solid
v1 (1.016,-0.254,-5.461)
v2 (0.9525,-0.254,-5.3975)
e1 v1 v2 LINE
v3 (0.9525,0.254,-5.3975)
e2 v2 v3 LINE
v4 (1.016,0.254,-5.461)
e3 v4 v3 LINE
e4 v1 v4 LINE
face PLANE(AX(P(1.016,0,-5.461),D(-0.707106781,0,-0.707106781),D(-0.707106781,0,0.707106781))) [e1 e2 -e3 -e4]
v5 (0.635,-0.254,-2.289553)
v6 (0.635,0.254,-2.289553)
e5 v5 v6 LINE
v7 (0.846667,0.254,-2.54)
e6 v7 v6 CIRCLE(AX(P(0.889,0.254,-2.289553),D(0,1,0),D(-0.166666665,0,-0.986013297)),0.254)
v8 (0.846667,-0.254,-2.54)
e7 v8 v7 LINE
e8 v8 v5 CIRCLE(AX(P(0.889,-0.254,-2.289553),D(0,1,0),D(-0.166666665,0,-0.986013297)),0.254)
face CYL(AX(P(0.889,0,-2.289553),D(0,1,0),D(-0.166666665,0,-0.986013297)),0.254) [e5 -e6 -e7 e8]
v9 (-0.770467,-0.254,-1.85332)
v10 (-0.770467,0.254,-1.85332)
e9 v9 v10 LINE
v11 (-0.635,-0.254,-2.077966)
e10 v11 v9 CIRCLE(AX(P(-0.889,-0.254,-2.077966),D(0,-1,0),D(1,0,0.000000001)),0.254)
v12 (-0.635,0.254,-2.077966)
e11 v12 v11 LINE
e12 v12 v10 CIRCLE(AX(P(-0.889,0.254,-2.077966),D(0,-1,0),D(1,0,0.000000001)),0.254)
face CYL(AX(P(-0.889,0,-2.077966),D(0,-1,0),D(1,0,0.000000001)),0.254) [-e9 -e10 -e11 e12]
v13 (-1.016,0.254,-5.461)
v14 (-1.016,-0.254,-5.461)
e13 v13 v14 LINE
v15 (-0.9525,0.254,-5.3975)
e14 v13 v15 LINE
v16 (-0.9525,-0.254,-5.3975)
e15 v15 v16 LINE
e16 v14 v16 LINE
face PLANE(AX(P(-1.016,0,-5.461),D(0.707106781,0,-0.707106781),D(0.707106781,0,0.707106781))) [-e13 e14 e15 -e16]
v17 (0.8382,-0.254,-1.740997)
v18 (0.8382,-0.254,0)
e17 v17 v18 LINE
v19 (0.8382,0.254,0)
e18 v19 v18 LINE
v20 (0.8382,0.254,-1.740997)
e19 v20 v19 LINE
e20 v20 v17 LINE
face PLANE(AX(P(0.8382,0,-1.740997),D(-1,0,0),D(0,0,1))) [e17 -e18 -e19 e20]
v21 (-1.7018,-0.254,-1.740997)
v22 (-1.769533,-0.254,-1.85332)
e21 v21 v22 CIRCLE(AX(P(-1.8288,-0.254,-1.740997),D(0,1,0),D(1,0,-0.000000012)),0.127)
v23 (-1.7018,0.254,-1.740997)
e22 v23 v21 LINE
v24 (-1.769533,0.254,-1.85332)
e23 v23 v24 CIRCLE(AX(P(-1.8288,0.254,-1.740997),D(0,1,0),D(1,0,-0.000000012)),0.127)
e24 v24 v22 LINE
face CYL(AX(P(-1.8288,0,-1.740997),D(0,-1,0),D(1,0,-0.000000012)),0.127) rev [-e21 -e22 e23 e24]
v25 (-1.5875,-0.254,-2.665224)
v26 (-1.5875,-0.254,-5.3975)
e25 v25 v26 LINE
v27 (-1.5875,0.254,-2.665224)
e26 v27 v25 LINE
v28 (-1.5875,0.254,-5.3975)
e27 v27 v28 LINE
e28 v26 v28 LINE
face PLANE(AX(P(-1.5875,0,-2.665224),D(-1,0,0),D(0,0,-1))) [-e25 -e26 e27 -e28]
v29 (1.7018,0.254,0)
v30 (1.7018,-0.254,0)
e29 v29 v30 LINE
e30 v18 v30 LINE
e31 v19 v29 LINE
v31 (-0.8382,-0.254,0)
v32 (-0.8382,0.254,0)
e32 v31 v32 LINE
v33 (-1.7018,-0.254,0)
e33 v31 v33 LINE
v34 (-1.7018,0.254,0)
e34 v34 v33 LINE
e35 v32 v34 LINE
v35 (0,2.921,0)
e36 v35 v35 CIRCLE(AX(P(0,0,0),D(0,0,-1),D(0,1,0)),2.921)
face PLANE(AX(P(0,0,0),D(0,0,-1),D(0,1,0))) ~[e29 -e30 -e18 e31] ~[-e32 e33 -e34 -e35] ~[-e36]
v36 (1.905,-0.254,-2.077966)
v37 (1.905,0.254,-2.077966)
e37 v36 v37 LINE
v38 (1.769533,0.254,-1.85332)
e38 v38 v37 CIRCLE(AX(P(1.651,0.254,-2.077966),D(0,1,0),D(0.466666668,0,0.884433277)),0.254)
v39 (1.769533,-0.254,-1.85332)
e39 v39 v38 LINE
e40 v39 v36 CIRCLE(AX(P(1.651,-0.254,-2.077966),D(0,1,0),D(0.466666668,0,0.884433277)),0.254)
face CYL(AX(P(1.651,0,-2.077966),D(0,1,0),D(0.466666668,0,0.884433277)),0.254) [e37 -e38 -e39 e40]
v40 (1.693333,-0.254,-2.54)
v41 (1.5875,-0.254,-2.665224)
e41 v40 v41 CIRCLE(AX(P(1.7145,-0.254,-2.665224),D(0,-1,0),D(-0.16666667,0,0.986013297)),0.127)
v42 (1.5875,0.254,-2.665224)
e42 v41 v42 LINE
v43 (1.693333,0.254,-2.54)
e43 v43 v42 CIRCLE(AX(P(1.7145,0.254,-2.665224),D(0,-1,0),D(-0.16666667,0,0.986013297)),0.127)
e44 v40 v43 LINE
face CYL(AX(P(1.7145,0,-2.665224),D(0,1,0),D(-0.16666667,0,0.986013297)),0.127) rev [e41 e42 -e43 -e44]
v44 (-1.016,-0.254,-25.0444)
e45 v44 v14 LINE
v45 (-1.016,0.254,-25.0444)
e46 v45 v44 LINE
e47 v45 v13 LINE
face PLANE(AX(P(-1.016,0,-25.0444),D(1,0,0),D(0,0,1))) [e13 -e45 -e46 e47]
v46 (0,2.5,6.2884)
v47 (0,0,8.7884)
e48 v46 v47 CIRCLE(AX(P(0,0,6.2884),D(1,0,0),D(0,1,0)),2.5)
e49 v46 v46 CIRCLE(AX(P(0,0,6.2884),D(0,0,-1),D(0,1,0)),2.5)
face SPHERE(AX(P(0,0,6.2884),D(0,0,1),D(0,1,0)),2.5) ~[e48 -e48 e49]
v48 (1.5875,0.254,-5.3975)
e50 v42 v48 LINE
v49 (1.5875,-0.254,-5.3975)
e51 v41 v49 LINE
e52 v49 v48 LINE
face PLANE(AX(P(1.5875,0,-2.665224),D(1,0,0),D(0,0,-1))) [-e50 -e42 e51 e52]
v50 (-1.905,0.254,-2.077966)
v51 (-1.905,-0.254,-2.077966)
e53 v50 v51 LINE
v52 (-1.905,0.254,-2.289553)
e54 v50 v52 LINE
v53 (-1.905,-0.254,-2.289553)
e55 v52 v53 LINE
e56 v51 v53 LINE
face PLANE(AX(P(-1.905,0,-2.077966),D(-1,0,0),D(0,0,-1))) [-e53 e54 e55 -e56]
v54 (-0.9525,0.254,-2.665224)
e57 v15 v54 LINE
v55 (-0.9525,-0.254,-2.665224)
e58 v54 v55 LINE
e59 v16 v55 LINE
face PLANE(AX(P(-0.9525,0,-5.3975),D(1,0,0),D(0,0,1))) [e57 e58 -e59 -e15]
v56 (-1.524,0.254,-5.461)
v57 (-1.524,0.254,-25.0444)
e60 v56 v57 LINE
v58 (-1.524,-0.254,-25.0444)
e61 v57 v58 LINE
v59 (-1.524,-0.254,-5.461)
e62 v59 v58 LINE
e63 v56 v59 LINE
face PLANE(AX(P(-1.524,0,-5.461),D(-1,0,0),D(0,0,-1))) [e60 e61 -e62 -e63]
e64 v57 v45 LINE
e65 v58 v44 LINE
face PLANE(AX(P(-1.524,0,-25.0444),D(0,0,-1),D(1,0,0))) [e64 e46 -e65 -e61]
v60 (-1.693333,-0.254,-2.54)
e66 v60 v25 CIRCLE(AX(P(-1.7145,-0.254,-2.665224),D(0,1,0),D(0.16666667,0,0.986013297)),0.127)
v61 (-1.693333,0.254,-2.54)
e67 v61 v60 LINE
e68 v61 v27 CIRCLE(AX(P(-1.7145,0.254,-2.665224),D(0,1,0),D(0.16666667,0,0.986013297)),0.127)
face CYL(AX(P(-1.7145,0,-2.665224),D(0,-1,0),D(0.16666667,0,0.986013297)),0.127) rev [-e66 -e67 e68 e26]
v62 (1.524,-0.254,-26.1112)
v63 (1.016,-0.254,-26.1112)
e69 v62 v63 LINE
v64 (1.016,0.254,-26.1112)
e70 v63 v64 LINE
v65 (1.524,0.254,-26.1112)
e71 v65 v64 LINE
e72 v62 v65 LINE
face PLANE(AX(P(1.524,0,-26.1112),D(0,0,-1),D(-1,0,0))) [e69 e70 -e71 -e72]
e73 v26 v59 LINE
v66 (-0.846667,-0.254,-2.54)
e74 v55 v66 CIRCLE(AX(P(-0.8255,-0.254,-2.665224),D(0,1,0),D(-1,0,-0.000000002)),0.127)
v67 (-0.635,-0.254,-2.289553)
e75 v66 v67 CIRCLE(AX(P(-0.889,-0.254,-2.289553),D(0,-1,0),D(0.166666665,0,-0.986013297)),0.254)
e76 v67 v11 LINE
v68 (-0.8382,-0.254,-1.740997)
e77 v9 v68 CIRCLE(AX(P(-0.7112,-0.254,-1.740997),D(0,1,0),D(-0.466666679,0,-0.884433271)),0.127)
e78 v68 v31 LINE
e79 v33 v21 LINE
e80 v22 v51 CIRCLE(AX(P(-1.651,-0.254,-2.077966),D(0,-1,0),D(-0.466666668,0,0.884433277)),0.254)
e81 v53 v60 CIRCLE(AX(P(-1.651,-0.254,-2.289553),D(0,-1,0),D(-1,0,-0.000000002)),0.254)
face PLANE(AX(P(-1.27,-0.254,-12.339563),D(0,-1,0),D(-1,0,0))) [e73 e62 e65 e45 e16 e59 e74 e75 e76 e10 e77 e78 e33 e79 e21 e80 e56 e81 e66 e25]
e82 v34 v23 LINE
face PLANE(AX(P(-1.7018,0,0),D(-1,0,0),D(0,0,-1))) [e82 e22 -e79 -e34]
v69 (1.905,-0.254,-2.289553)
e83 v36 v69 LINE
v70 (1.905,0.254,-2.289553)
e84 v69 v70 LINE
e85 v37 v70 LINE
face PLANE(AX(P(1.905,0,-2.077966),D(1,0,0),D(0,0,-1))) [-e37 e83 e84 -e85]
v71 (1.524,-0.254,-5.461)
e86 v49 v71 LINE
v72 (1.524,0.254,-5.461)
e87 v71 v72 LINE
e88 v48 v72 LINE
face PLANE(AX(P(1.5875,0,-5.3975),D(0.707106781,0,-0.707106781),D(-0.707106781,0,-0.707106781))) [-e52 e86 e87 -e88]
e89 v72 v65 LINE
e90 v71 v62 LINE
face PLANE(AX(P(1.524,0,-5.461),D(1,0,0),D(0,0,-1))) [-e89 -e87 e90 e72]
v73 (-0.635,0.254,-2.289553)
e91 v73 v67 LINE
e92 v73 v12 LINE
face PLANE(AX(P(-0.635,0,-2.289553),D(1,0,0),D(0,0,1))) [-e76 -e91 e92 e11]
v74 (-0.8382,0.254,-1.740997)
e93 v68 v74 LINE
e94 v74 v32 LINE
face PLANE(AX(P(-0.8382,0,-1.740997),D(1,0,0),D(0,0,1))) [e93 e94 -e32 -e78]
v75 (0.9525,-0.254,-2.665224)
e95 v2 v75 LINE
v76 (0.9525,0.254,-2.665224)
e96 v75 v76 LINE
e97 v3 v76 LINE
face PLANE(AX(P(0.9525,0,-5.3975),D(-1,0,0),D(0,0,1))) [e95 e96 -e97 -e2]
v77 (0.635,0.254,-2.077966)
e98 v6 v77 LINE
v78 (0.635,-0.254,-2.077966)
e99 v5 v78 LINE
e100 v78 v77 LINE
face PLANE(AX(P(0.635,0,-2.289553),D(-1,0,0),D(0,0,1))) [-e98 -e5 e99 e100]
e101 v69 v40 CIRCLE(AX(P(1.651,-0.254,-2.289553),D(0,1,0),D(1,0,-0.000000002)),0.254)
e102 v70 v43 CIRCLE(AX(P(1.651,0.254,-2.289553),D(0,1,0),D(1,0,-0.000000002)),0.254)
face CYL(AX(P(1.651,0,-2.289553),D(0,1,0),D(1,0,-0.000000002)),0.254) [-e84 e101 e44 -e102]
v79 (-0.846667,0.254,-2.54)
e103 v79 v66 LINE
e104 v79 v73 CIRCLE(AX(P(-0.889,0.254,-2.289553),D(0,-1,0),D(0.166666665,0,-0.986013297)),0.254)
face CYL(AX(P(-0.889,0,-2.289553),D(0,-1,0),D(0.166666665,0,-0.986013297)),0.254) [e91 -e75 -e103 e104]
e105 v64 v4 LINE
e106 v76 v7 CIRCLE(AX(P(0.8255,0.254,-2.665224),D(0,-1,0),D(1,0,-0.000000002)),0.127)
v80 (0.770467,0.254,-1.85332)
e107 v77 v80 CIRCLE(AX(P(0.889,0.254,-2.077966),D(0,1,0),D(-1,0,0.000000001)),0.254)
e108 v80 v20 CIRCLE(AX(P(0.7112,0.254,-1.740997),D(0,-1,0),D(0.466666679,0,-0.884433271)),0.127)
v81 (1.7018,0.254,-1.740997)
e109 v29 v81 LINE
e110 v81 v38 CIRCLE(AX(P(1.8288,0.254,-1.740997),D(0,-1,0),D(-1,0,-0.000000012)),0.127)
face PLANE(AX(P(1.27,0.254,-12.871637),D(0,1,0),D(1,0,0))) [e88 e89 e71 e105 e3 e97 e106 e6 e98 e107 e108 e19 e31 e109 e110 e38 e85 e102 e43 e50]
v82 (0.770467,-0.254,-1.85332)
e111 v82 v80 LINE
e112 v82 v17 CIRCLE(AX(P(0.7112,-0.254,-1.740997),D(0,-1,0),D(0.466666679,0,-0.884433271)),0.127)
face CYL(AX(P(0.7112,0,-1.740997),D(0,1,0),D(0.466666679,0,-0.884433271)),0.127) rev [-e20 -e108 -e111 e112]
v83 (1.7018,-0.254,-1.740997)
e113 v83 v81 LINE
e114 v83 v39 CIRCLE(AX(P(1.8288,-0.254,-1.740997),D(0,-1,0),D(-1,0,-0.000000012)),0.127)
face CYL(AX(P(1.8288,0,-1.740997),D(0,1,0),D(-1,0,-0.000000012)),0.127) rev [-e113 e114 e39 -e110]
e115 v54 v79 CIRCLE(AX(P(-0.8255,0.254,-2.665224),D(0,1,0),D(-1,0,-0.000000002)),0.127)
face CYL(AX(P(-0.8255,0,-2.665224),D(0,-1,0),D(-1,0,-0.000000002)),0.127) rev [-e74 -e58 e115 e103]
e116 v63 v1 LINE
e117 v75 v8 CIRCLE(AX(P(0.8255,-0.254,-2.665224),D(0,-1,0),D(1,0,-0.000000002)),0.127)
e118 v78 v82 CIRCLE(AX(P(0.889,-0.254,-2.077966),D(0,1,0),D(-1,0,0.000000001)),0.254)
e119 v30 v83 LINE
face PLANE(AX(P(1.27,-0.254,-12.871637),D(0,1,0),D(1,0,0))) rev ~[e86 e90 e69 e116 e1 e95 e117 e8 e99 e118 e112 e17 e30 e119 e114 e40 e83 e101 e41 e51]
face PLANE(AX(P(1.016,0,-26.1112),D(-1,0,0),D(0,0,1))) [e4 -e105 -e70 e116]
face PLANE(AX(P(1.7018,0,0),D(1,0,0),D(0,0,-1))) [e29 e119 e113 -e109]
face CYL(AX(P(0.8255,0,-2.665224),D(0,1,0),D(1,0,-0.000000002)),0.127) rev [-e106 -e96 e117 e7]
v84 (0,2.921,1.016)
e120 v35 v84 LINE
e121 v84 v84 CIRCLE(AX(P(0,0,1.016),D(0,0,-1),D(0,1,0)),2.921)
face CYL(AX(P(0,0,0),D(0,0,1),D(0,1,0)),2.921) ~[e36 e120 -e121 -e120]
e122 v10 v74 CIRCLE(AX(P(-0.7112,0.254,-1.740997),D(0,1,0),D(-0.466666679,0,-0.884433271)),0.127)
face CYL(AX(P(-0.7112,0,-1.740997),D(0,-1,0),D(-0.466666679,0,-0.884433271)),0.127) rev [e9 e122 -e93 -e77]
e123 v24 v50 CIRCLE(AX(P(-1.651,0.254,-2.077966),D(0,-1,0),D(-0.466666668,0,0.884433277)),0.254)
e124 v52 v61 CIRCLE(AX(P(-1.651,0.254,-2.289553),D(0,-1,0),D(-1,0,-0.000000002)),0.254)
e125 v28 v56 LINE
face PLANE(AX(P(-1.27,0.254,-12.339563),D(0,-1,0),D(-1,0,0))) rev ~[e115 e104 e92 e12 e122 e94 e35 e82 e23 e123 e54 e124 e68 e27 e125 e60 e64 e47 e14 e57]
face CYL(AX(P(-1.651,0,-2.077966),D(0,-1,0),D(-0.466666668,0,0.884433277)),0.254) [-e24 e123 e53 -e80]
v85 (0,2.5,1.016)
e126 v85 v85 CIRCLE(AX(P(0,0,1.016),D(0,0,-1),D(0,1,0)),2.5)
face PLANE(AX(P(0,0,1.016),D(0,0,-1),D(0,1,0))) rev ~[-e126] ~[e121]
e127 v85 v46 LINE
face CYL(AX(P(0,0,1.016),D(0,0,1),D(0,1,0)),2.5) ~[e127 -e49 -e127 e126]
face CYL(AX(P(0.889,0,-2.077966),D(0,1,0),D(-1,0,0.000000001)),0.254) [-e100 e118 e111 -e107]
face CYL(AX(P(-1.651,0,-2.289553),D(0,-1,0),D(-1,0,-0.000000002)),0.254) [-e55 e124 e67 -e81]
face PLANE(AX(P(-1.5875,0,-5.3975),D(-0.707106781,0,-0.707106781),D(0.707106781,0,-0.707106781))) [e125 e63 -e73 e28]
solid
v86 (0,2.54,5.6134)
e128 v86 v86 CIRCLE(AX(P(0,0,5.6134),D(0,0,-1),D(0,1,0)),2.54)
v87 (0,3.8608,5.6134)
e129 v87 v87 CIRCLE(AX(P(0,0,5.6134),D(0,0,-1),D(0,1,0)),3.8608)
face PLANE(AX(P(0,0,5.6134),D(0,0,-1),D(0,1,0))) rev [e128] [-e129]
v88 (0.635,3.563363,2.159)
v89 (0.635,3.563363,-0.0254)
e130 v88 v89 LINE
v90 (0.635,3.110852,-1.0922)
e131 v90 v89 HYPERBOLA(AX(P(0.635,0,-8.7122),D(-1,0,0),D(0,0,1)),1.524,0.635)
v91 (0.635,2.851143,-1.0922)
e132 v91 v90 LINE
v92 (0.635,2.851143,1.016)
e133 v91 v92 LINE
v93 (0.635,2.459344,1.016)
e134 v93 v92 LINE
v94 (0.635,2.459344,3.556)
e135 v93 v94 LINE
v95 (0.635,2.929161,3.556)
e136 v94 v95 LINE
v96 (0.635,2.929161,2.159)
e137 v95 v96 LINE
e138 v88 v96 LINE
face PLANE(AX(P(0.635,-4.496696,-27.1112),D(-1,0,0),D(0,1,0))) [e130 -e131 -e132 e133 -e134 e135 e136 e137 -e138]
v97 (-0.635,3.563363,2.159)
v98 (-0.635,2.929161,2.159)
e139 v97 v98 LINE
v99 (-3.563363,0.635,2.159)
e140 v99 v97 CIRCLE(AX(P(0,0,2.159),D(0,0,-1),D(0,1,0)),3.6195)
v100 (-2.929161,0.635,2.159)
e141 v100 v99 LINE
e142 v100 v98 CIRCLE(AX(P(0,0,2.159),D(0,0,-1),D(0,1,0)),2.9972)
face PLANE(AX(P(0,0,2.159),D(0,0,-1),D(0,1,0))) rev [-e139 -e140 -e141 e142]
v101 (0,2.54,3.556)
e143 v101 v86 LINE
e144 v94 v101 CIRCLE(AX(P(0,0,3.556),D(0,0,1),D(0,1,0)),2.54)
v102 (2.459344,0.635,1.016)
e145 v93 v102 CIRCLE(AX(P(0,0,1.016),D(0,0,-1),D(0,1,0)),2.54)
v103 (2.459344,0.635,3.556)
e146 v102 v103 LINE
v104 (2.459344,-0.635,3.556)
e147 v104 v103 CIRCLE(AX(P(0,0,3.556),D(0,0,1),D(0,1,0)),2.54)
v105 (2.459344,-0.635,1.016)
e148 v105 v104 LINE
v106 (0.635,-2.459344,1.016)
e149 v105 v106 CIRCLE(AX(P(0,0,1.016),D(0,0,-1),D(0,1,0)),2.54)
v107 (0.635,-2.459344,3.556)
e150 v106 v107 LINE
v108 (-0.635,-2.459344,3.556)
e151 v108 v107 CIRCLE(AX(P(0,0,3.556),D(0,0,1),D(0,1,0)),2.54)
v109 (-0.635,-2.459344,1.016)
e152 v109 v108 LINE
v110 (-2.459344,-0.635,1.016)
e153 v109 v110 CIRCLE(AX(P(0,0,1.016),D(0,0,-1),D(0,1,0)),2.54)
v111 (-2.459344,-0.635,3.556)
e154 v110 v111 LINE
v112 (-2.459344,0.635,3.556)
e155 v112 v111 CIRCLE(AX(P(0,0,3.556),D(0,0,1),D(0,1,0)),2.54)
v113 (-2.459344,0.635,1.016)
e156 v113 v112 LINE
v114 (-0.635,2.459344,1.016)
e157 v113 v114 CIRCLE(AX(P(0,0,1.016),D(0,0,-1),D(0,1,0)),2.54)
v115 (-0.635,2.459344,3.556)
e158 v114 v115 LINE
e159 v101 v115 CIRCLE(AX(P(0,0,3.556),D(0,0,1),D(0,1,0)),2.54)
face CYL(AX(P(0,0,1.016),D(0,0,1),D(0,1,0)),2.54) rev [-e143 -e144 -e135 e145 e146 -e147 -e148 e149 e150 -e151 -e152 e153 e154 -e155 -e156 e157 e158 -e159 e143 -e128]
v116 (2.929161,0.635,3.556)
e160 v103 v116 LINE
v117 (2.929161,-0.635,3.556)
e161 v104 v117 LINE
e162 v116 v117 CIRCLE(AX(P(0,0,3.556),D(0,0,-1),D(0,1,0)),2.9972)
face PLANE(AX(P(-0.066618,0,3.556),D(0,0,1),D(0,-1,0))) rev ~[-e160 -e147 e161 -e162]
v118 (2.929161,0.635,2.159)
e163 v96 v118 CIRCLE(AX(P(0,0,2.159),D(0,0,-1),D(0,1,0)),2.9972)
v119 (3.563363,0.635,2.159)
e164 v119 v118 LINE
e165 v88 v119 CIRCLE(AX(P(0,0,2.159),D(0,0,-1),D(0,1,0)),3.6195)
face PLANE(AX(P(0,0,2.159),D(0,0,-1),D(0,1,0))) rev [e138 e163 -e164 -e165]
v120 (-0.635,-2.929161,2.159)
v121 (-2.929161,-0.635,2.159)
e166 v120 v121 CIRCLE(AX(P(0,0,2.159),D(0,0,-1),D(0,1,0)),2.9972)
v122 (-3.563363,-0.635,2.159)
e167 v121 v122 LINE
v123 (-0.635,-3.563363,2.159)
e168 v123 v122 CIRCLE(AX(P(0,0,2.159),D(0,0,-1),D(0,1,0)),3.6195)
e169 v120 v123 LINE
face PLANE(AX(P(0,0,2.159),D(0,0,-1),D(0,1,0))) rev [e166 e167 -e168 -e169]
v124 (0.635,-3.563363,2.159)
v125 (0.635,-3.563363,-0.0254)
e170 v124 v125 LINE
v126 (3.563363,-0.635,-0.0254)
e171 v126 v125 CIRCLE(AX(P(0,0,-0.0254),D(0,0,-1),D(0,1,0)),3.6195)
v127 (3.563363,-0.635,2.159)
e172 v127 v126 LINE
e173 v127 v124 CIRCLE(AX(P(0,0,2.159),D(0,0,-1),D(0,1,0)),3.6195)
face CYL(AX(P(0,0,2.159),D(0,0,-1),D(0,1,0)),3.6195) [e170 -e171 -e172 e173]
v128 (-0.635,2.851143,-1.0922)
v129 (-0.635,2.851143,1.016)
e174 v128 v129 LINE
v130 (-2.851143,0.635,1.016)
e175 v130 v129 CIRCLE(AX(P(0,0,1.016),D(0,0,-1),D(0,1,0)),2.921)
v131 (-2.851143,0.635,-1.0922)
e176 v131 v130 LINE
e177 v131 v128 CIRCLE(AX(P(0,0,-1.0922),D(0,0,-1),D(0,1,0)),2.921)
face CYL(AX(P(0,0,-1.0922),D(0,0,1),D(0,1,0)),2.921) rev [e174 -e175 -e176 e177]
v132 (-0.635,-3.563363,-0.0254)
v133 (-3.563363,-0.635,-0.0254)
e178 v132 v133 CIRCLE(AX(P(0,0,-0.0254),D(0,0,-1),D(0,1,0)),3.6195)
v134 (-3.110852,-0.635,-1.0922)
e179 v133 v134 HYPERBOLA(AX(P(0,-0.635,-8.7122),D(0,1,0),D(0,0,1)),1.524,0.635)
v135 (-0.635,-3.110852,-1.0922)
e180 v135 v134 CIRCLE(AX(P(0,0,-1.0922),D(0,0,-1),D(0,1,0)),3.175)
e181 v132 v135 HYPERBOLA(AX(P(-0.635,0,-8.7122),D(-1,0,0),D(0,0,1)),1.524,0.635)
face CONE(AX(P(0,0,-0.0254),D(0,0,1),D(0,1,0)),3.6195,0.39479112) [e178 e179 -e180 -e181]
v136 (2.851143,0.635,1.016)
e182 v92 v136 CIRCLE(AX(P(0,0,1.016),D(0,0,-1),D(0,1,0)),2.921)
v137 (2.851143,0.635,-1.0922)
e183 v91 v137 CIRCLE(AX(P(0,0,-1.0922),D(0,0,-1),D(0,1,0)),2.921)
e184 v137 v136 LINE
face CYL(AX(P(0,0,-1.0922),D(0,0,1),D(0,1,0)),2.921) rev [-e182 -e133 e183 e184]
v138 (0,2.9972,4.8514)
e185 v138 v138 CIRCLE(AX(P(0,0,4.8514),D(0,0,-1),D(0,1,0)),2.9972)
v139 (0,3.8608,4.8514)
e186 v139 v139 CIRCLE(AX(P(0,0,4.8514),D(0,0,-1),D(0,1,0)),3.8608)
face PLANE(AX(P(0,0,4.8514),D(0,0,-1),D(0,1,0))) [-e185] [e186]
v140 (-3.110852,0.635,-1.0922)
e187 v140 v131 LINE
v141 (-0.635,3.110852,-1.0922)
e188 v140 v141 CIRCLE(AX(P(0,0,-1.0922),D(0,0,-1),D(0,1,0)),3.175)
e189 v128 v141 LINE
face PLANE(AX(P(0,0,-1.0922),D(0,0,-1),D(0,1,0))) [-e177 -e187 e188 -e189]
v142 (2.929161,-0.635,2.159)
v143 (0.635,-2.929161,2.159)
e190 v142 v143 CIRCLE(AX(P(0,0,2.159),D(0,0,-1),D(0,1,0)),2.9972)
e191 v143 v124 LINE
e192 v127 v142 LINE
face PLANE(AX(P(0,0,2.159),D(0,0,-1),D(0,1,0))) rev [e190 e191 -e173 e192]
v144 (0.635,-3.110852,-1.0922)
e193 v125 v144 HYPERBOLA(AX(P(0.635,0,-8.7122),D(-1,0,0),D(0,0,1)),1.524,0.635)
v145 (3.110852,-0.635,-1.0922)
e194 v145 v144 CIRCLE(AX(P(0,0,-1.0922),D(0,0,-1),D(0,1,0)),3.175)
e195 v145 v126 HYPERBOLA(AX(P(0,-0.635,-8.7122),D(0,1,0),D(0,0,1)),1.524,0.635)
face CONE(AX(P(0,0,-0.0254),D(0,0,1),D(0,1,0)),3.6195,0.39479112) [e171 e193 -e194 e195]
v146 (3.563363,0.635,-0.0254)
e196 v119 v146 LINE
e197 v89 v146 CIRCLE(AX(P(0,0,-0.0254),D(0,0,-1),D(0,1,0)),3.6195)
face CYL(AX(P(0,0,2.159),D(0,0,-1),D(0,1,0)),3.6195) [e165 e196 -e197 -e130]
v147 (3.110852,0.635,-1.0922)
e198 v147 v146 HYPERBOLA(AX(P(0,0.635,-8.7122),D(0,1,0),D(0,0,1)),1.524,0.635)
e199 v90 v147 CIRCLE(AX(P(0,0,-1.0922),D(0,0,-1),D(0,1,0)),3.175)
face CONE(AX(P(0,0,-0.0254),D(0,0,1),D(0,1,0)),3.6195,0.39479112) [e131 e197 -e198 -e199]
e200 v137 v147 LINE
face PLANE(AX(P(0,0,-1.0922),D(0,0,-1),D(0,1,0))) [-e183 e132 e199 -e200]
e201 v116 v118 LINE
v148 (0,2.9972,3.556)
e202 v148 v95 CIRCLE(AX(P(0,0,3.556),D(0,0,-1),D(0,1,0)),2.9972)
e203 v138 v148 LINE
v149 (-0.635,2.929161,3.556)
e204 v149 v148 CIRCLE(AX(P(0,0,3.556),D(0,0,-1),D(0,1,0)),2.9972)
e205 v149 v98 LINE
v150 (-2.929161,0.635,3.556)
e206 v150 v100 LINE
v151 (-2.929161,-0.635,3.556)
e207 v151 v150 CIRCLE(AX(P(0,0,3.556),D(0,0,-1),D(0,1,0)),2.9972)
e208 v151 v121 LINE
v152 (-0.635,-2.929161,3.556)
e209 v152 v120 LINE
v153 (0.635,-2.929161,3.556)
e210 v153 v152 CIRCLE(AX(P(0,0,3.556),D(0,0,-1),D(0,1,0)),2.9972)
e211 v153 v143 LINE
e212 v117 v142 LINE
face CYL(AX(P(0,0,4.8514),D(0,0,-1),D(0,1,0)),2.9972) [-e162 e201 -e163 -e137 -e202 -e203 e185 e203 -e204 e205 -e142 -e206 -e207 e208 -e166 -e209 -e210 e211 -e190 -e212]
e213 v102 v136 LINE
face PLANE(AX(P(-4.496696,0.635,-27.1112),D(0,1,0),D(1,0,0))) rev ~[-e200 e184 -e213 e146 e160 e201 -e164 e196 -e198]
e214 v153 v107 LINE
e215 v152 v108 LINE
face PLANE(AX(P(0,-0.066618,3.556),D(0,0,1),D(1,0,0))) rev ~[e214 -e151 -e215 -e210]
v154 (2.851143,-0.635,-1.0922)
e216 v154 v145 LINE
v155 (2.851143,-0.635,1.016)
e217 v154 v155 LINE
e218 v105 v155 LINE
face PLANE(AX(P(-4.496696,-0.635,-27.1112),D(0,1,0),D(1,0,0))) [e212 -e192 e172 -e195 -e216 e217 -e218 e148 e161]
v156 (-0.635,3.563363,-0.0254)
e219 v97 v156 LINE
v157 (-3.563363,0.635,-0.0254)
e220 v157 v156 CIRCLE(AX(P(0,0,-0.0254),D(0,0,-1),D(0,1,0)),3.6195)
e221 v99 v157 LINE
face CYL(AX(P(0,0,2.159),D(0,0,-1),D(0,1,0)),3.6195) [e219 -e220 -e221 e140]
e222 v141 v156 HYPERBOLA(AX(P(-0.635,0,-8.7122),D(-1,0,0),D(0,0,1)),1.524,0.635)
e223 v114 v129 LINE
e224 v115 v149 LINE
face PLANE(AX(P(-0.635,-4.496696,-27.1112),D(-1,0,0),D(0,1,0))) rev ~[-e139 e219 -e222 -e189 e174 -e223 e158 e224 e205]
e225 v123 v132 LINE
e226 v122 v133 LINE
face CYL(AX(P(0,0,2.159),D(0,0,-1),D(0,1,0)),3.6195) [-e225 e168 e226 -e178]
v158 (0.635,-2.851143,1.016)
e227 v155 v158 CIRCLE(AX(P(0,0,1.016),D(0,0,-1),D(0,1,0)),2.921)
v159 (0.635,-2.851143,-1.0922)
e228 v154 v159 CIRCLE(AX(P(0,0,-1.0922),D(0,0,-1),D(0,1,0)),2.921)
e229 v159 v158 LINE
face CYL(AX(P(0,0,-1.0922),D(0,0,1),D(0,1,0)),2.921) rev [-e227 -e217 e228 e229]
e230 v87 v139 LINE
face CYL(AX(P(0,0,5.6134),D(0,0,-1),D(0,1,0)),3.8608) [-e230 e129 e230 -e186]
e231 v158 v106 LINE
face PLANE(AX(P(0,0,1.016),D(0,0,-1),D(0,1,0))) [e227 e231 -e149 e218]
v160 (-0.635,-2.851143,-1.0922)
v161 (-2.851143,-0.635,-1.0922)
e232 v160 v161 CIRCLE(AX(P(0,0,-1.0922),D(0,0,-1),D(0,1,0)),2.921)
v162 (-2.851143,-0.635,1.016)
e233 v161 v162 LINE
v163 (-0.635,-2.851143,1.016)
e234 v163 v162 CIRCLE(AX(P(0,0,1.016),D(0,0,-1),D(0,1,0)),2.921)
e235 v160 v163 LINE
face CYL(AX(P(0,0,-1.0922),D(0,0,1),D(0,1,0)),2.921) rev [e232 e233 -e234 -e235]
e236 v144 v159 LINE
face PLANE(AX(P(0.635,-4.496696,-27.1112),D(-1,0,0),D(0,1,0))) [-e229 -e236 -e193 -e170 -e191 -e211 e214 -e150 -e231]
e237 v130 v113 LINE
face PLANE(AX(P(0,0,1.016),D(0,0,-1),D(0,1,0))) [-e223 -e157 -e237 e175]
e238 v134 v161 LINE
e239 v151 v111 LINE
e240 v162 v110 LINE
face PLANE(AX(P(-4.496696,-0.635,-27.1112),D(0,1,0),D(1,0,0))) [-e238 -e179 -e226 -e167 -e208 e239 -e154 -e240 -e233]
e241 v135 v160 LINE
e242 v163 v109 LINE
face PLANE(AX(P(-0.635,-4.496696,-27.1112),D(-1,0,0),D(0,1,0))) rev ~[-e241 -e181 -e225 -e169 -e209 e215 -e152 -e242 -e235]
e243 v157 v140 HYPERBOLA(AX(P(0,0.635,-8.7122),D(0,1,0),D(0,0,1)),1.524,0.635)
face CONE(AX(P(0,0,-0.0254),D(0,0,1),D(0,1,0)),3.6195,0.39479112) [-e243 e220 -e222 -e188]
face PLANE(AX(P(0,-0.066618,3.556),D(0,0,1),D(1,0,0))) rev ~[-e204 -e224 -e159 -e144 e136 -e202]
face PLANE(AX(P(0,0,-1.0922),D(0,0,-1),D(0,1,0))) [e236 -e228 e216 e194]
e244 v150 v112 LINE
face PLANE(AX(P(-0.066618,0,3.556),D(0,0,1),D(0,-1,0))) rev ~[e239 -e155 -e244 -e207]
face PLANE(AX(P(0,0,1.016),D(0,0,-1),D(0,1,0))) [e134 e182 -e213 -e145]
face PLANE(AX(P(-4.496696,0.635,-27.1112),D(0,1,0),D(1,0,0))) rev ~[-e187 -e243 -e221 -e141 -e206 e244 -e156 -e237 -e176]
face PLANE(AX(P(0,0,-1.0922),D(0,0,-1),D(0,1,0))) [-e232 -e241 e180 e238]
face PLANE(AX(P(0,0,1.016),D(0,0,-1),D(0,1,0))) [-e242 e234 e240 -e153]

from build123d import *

# Parameters (mm, degrees)
EXTRUDE1_DEPTH          = 0.254
EXTRUDE1_DEPTH_BACK     = 0.254
CUT_EXTRUDE_THIN2_START = -27.675950193
SKETCH5_W               = 1.27
SKETCH5_H               = 8.860157491
CUT_EXTRUDE_THIN2_DEPTH = 31.231950193
CIRPATTERN2_COUNT       = 2
CIRPATTERN2_ANGLE       = 90


with BuildPart() as part:
    # Sketch1 → Revolve1 (revolve)
    with BuildSketch(Plane(origin=(0, 0, 0), x_dir=(0, 0, -1), z_dir=(1, 0, 0))):
        with BuildLine():
            Line((0, 0), (0, 2.921))
            Line((0, 2.921), (-1.016, 2.921))
            Line((-1.016, 2.921), (-1.016, 2.5))
            Line((-1.016, 2.5), (-6.2884, 2.5))
            ThreePointArc((-6.2884, 2.5), (-8.056166953, 1.767766953), (-8.7884, 0))
            Line((-8.7884, 0), (0, 0))
        make_face()
    revolve(axis=Axis((0, 0, 68.7324), (0, 0, -1)))

    # Sketch3 → Extrude1 (add, two sides: drawn at the far end of the back side and taken through both)
    with BuildSketch(Plane(origin=(0, 0, 0), x_dir=(1, 0, 0), z_dir=(0, 1, 0)).offset(-EXTRUDE1_DEPTH_BACK)):
        with BuildLine():
            Line((0.8382, 0), (1.7018, 0))
            Line((1.7018, 0), (1.7018, 1.740996518))
            ThreePointArc((1.7018, 1.740996518), (1.720043698, 1.806579036), (1.769533333, 1.853319544))
            ThreePointArc((1.769533333, 1.853319544), (1.868512605, 1.946800561), (1.905, 2.077965597))
            Line((1.905, 2.077965597), (1.905, 2.289552623))
            ThreePointArc((1.905, 2.289552623), (1.844995704, 2.453508918), (1.693333333, 2.54))
            ThreePointArc((1.693333333, 2.54), (1.617502148, 2.583245541), (1.5875, 2.665223689))
            Line((1.5875, 2.665223689), (1.5875, 5.3975))
            Line((1.5875, 5.3975), (1.524, 5.461))
            Line((1.524, 5.461), (1.524, 26.1112))
            Line((1.524, 26.1112), (1.016, 26.1112))
            Line((1.016, 26.1112), (1.016, 5.461))
            Line((1.016, 5.461), (0.9525, 5.3975))
            Line((0.9525, 5.3975), (0.9525, 2.665223689))
            ThreePointArc((0.9525, 2.665223689), (0.922497852, 2.583245541), (0.846666667, 2.54))
            ThreePointArc((0.846666667, 2.54), (0.695004296, 2.453508918), (0.635, 2.289552623))
            Line((0.635, 2.289552623), (0.635, 2.077965597))
            ThreePointArc((0.635, 2.077965597), (0.671487395, 1.946800561), (0.770466667, 1.853319544))
            ThreePointArc((0.770466667, 1.853319544), (0.819956302, 1.806579036), (0.8382, 1.740996518))
            Line((0.8382, 1.740996518), (0.8382, 0))
        make_face()
        with BuildLine():
            Line((-1.5875, 5.3975), (-1.524, 5.461))
            Line((-1.524, 5.461), (-1.524, 25.0444))
            Line((-1.524, 25.0444), (-1.016, 25.0444))
            Line((-1.016, 25.0444), (-1.016, 5.461))
            Line((-1.016, 5.461), (-0.9525, 5.3975))
            Line((-0.9525, 5.3975), (-0.9525, 2.665223689))
            ThreePointArc((-0.9525, 2.665223689), (-0.922497852, 2.583245541), (-0.846666667, 2.54))
            ThreePointArc((-0.846666667, 2.54), (-0.695004296, 2.453508918), (-0.635, 2.289552623))
            Line((-0.635, 2.289552623), (-0.635, 2.077965597))
            ThreePointArc((-0.635, 2.077965597), (-0.671487395, 1.946800561), (-0.770466667, 1.853319544))
            ThreePointArc((-0.770466667, 1.853319544), (-0.819956302, 1.806579036), (-0.8382, 1.740996518))
            Line((-0.8382, 1.740996518), (-0.8382, 0))
            Line((-0.8382, 0), (-1.7018, 0))
            Line((-1.7018, 0), (-1.7018, 1.740996518))
            ThreePointArc((-1.7018, 1.740996518), (-1.720043698, 1.806579036), (-1.769533333, 1.853319544))
            ThreePointArc((-1.769533333, 1.853319544), (-1.868512605, 1.946800561), (-1.905, 2.077965597))
            Line((-1.905, 2.077965597), (-1.905, 2.289552623))
            ThreePointArc((-1.905, 2.289552623), (-1.844995704, 2.453508918), (-1.693333333, 2.54))
            ThreePointArc((-1.693333333, 2.54), (-1.617502148, 2.583245541), (-1.5875, 2.665223689))
            Line((-1.5875, 2.665223689), (-1.5875, 5.3975))
        make_face()
    extrude(amount=EXTRUDE1_DEPTH + EXTRUDE1_DEPTH_BACK)


with BuildPart() as body_2:
    # Sketch4 → Revolve3 (revolve)
    with BuildSketch(Plane(origin=(0, 0, 0), x_dir=(0, 0, -1), z_dir=(1, 0, 0))):
        Polygon((-5.6134, 3.8608), (-5.6134, 2.54), (-1.016, 2.54), (-1.016, 2.921), (1.0922, 2.921), (1.0922, 3.175), (0.0254, 3.6195), (-2.159, 3.6195), (-2.159, 2.9972), (-4.8514, 2.9972), (-4.8514, 3.8608), align=None)
    revolve(axis=Axis((0, 0, 10.223161333), (0, 0, -1)))

    # Sketch5 → Cut-Extrude-Thin2 (cut)
    with BuildSketch(Plane.XY.offset(CUT_EXTRUDE_THIN2_START)):
        with Locations((0, -0.066617726)):
            Rectangle(SKETCH5_W, SKETCH5_H)
    cut_extrude_thin2 = extrude(amount=CUT_EXTRUDE_THIN2_DEPTH, mode=Mode.SUBTRACT)

    # CirPattern2: Cut-Extrude-Thin2 ×2 about axis
    cirpattern2_axis = Axis((0, 0, 68.7324), (0, 0, -1))
    for i in range(1, CIRPATTERN2_COUNT):
        add(cut_extrude_thin2.rotate(cirpattern2_axis, i * CIRPATTERN2_ANGLE / (CIRPATTERN2_COUNT - 1)), mode=Mode.SUBTRACT)


solid = Compound([part.part, body_2.part])
